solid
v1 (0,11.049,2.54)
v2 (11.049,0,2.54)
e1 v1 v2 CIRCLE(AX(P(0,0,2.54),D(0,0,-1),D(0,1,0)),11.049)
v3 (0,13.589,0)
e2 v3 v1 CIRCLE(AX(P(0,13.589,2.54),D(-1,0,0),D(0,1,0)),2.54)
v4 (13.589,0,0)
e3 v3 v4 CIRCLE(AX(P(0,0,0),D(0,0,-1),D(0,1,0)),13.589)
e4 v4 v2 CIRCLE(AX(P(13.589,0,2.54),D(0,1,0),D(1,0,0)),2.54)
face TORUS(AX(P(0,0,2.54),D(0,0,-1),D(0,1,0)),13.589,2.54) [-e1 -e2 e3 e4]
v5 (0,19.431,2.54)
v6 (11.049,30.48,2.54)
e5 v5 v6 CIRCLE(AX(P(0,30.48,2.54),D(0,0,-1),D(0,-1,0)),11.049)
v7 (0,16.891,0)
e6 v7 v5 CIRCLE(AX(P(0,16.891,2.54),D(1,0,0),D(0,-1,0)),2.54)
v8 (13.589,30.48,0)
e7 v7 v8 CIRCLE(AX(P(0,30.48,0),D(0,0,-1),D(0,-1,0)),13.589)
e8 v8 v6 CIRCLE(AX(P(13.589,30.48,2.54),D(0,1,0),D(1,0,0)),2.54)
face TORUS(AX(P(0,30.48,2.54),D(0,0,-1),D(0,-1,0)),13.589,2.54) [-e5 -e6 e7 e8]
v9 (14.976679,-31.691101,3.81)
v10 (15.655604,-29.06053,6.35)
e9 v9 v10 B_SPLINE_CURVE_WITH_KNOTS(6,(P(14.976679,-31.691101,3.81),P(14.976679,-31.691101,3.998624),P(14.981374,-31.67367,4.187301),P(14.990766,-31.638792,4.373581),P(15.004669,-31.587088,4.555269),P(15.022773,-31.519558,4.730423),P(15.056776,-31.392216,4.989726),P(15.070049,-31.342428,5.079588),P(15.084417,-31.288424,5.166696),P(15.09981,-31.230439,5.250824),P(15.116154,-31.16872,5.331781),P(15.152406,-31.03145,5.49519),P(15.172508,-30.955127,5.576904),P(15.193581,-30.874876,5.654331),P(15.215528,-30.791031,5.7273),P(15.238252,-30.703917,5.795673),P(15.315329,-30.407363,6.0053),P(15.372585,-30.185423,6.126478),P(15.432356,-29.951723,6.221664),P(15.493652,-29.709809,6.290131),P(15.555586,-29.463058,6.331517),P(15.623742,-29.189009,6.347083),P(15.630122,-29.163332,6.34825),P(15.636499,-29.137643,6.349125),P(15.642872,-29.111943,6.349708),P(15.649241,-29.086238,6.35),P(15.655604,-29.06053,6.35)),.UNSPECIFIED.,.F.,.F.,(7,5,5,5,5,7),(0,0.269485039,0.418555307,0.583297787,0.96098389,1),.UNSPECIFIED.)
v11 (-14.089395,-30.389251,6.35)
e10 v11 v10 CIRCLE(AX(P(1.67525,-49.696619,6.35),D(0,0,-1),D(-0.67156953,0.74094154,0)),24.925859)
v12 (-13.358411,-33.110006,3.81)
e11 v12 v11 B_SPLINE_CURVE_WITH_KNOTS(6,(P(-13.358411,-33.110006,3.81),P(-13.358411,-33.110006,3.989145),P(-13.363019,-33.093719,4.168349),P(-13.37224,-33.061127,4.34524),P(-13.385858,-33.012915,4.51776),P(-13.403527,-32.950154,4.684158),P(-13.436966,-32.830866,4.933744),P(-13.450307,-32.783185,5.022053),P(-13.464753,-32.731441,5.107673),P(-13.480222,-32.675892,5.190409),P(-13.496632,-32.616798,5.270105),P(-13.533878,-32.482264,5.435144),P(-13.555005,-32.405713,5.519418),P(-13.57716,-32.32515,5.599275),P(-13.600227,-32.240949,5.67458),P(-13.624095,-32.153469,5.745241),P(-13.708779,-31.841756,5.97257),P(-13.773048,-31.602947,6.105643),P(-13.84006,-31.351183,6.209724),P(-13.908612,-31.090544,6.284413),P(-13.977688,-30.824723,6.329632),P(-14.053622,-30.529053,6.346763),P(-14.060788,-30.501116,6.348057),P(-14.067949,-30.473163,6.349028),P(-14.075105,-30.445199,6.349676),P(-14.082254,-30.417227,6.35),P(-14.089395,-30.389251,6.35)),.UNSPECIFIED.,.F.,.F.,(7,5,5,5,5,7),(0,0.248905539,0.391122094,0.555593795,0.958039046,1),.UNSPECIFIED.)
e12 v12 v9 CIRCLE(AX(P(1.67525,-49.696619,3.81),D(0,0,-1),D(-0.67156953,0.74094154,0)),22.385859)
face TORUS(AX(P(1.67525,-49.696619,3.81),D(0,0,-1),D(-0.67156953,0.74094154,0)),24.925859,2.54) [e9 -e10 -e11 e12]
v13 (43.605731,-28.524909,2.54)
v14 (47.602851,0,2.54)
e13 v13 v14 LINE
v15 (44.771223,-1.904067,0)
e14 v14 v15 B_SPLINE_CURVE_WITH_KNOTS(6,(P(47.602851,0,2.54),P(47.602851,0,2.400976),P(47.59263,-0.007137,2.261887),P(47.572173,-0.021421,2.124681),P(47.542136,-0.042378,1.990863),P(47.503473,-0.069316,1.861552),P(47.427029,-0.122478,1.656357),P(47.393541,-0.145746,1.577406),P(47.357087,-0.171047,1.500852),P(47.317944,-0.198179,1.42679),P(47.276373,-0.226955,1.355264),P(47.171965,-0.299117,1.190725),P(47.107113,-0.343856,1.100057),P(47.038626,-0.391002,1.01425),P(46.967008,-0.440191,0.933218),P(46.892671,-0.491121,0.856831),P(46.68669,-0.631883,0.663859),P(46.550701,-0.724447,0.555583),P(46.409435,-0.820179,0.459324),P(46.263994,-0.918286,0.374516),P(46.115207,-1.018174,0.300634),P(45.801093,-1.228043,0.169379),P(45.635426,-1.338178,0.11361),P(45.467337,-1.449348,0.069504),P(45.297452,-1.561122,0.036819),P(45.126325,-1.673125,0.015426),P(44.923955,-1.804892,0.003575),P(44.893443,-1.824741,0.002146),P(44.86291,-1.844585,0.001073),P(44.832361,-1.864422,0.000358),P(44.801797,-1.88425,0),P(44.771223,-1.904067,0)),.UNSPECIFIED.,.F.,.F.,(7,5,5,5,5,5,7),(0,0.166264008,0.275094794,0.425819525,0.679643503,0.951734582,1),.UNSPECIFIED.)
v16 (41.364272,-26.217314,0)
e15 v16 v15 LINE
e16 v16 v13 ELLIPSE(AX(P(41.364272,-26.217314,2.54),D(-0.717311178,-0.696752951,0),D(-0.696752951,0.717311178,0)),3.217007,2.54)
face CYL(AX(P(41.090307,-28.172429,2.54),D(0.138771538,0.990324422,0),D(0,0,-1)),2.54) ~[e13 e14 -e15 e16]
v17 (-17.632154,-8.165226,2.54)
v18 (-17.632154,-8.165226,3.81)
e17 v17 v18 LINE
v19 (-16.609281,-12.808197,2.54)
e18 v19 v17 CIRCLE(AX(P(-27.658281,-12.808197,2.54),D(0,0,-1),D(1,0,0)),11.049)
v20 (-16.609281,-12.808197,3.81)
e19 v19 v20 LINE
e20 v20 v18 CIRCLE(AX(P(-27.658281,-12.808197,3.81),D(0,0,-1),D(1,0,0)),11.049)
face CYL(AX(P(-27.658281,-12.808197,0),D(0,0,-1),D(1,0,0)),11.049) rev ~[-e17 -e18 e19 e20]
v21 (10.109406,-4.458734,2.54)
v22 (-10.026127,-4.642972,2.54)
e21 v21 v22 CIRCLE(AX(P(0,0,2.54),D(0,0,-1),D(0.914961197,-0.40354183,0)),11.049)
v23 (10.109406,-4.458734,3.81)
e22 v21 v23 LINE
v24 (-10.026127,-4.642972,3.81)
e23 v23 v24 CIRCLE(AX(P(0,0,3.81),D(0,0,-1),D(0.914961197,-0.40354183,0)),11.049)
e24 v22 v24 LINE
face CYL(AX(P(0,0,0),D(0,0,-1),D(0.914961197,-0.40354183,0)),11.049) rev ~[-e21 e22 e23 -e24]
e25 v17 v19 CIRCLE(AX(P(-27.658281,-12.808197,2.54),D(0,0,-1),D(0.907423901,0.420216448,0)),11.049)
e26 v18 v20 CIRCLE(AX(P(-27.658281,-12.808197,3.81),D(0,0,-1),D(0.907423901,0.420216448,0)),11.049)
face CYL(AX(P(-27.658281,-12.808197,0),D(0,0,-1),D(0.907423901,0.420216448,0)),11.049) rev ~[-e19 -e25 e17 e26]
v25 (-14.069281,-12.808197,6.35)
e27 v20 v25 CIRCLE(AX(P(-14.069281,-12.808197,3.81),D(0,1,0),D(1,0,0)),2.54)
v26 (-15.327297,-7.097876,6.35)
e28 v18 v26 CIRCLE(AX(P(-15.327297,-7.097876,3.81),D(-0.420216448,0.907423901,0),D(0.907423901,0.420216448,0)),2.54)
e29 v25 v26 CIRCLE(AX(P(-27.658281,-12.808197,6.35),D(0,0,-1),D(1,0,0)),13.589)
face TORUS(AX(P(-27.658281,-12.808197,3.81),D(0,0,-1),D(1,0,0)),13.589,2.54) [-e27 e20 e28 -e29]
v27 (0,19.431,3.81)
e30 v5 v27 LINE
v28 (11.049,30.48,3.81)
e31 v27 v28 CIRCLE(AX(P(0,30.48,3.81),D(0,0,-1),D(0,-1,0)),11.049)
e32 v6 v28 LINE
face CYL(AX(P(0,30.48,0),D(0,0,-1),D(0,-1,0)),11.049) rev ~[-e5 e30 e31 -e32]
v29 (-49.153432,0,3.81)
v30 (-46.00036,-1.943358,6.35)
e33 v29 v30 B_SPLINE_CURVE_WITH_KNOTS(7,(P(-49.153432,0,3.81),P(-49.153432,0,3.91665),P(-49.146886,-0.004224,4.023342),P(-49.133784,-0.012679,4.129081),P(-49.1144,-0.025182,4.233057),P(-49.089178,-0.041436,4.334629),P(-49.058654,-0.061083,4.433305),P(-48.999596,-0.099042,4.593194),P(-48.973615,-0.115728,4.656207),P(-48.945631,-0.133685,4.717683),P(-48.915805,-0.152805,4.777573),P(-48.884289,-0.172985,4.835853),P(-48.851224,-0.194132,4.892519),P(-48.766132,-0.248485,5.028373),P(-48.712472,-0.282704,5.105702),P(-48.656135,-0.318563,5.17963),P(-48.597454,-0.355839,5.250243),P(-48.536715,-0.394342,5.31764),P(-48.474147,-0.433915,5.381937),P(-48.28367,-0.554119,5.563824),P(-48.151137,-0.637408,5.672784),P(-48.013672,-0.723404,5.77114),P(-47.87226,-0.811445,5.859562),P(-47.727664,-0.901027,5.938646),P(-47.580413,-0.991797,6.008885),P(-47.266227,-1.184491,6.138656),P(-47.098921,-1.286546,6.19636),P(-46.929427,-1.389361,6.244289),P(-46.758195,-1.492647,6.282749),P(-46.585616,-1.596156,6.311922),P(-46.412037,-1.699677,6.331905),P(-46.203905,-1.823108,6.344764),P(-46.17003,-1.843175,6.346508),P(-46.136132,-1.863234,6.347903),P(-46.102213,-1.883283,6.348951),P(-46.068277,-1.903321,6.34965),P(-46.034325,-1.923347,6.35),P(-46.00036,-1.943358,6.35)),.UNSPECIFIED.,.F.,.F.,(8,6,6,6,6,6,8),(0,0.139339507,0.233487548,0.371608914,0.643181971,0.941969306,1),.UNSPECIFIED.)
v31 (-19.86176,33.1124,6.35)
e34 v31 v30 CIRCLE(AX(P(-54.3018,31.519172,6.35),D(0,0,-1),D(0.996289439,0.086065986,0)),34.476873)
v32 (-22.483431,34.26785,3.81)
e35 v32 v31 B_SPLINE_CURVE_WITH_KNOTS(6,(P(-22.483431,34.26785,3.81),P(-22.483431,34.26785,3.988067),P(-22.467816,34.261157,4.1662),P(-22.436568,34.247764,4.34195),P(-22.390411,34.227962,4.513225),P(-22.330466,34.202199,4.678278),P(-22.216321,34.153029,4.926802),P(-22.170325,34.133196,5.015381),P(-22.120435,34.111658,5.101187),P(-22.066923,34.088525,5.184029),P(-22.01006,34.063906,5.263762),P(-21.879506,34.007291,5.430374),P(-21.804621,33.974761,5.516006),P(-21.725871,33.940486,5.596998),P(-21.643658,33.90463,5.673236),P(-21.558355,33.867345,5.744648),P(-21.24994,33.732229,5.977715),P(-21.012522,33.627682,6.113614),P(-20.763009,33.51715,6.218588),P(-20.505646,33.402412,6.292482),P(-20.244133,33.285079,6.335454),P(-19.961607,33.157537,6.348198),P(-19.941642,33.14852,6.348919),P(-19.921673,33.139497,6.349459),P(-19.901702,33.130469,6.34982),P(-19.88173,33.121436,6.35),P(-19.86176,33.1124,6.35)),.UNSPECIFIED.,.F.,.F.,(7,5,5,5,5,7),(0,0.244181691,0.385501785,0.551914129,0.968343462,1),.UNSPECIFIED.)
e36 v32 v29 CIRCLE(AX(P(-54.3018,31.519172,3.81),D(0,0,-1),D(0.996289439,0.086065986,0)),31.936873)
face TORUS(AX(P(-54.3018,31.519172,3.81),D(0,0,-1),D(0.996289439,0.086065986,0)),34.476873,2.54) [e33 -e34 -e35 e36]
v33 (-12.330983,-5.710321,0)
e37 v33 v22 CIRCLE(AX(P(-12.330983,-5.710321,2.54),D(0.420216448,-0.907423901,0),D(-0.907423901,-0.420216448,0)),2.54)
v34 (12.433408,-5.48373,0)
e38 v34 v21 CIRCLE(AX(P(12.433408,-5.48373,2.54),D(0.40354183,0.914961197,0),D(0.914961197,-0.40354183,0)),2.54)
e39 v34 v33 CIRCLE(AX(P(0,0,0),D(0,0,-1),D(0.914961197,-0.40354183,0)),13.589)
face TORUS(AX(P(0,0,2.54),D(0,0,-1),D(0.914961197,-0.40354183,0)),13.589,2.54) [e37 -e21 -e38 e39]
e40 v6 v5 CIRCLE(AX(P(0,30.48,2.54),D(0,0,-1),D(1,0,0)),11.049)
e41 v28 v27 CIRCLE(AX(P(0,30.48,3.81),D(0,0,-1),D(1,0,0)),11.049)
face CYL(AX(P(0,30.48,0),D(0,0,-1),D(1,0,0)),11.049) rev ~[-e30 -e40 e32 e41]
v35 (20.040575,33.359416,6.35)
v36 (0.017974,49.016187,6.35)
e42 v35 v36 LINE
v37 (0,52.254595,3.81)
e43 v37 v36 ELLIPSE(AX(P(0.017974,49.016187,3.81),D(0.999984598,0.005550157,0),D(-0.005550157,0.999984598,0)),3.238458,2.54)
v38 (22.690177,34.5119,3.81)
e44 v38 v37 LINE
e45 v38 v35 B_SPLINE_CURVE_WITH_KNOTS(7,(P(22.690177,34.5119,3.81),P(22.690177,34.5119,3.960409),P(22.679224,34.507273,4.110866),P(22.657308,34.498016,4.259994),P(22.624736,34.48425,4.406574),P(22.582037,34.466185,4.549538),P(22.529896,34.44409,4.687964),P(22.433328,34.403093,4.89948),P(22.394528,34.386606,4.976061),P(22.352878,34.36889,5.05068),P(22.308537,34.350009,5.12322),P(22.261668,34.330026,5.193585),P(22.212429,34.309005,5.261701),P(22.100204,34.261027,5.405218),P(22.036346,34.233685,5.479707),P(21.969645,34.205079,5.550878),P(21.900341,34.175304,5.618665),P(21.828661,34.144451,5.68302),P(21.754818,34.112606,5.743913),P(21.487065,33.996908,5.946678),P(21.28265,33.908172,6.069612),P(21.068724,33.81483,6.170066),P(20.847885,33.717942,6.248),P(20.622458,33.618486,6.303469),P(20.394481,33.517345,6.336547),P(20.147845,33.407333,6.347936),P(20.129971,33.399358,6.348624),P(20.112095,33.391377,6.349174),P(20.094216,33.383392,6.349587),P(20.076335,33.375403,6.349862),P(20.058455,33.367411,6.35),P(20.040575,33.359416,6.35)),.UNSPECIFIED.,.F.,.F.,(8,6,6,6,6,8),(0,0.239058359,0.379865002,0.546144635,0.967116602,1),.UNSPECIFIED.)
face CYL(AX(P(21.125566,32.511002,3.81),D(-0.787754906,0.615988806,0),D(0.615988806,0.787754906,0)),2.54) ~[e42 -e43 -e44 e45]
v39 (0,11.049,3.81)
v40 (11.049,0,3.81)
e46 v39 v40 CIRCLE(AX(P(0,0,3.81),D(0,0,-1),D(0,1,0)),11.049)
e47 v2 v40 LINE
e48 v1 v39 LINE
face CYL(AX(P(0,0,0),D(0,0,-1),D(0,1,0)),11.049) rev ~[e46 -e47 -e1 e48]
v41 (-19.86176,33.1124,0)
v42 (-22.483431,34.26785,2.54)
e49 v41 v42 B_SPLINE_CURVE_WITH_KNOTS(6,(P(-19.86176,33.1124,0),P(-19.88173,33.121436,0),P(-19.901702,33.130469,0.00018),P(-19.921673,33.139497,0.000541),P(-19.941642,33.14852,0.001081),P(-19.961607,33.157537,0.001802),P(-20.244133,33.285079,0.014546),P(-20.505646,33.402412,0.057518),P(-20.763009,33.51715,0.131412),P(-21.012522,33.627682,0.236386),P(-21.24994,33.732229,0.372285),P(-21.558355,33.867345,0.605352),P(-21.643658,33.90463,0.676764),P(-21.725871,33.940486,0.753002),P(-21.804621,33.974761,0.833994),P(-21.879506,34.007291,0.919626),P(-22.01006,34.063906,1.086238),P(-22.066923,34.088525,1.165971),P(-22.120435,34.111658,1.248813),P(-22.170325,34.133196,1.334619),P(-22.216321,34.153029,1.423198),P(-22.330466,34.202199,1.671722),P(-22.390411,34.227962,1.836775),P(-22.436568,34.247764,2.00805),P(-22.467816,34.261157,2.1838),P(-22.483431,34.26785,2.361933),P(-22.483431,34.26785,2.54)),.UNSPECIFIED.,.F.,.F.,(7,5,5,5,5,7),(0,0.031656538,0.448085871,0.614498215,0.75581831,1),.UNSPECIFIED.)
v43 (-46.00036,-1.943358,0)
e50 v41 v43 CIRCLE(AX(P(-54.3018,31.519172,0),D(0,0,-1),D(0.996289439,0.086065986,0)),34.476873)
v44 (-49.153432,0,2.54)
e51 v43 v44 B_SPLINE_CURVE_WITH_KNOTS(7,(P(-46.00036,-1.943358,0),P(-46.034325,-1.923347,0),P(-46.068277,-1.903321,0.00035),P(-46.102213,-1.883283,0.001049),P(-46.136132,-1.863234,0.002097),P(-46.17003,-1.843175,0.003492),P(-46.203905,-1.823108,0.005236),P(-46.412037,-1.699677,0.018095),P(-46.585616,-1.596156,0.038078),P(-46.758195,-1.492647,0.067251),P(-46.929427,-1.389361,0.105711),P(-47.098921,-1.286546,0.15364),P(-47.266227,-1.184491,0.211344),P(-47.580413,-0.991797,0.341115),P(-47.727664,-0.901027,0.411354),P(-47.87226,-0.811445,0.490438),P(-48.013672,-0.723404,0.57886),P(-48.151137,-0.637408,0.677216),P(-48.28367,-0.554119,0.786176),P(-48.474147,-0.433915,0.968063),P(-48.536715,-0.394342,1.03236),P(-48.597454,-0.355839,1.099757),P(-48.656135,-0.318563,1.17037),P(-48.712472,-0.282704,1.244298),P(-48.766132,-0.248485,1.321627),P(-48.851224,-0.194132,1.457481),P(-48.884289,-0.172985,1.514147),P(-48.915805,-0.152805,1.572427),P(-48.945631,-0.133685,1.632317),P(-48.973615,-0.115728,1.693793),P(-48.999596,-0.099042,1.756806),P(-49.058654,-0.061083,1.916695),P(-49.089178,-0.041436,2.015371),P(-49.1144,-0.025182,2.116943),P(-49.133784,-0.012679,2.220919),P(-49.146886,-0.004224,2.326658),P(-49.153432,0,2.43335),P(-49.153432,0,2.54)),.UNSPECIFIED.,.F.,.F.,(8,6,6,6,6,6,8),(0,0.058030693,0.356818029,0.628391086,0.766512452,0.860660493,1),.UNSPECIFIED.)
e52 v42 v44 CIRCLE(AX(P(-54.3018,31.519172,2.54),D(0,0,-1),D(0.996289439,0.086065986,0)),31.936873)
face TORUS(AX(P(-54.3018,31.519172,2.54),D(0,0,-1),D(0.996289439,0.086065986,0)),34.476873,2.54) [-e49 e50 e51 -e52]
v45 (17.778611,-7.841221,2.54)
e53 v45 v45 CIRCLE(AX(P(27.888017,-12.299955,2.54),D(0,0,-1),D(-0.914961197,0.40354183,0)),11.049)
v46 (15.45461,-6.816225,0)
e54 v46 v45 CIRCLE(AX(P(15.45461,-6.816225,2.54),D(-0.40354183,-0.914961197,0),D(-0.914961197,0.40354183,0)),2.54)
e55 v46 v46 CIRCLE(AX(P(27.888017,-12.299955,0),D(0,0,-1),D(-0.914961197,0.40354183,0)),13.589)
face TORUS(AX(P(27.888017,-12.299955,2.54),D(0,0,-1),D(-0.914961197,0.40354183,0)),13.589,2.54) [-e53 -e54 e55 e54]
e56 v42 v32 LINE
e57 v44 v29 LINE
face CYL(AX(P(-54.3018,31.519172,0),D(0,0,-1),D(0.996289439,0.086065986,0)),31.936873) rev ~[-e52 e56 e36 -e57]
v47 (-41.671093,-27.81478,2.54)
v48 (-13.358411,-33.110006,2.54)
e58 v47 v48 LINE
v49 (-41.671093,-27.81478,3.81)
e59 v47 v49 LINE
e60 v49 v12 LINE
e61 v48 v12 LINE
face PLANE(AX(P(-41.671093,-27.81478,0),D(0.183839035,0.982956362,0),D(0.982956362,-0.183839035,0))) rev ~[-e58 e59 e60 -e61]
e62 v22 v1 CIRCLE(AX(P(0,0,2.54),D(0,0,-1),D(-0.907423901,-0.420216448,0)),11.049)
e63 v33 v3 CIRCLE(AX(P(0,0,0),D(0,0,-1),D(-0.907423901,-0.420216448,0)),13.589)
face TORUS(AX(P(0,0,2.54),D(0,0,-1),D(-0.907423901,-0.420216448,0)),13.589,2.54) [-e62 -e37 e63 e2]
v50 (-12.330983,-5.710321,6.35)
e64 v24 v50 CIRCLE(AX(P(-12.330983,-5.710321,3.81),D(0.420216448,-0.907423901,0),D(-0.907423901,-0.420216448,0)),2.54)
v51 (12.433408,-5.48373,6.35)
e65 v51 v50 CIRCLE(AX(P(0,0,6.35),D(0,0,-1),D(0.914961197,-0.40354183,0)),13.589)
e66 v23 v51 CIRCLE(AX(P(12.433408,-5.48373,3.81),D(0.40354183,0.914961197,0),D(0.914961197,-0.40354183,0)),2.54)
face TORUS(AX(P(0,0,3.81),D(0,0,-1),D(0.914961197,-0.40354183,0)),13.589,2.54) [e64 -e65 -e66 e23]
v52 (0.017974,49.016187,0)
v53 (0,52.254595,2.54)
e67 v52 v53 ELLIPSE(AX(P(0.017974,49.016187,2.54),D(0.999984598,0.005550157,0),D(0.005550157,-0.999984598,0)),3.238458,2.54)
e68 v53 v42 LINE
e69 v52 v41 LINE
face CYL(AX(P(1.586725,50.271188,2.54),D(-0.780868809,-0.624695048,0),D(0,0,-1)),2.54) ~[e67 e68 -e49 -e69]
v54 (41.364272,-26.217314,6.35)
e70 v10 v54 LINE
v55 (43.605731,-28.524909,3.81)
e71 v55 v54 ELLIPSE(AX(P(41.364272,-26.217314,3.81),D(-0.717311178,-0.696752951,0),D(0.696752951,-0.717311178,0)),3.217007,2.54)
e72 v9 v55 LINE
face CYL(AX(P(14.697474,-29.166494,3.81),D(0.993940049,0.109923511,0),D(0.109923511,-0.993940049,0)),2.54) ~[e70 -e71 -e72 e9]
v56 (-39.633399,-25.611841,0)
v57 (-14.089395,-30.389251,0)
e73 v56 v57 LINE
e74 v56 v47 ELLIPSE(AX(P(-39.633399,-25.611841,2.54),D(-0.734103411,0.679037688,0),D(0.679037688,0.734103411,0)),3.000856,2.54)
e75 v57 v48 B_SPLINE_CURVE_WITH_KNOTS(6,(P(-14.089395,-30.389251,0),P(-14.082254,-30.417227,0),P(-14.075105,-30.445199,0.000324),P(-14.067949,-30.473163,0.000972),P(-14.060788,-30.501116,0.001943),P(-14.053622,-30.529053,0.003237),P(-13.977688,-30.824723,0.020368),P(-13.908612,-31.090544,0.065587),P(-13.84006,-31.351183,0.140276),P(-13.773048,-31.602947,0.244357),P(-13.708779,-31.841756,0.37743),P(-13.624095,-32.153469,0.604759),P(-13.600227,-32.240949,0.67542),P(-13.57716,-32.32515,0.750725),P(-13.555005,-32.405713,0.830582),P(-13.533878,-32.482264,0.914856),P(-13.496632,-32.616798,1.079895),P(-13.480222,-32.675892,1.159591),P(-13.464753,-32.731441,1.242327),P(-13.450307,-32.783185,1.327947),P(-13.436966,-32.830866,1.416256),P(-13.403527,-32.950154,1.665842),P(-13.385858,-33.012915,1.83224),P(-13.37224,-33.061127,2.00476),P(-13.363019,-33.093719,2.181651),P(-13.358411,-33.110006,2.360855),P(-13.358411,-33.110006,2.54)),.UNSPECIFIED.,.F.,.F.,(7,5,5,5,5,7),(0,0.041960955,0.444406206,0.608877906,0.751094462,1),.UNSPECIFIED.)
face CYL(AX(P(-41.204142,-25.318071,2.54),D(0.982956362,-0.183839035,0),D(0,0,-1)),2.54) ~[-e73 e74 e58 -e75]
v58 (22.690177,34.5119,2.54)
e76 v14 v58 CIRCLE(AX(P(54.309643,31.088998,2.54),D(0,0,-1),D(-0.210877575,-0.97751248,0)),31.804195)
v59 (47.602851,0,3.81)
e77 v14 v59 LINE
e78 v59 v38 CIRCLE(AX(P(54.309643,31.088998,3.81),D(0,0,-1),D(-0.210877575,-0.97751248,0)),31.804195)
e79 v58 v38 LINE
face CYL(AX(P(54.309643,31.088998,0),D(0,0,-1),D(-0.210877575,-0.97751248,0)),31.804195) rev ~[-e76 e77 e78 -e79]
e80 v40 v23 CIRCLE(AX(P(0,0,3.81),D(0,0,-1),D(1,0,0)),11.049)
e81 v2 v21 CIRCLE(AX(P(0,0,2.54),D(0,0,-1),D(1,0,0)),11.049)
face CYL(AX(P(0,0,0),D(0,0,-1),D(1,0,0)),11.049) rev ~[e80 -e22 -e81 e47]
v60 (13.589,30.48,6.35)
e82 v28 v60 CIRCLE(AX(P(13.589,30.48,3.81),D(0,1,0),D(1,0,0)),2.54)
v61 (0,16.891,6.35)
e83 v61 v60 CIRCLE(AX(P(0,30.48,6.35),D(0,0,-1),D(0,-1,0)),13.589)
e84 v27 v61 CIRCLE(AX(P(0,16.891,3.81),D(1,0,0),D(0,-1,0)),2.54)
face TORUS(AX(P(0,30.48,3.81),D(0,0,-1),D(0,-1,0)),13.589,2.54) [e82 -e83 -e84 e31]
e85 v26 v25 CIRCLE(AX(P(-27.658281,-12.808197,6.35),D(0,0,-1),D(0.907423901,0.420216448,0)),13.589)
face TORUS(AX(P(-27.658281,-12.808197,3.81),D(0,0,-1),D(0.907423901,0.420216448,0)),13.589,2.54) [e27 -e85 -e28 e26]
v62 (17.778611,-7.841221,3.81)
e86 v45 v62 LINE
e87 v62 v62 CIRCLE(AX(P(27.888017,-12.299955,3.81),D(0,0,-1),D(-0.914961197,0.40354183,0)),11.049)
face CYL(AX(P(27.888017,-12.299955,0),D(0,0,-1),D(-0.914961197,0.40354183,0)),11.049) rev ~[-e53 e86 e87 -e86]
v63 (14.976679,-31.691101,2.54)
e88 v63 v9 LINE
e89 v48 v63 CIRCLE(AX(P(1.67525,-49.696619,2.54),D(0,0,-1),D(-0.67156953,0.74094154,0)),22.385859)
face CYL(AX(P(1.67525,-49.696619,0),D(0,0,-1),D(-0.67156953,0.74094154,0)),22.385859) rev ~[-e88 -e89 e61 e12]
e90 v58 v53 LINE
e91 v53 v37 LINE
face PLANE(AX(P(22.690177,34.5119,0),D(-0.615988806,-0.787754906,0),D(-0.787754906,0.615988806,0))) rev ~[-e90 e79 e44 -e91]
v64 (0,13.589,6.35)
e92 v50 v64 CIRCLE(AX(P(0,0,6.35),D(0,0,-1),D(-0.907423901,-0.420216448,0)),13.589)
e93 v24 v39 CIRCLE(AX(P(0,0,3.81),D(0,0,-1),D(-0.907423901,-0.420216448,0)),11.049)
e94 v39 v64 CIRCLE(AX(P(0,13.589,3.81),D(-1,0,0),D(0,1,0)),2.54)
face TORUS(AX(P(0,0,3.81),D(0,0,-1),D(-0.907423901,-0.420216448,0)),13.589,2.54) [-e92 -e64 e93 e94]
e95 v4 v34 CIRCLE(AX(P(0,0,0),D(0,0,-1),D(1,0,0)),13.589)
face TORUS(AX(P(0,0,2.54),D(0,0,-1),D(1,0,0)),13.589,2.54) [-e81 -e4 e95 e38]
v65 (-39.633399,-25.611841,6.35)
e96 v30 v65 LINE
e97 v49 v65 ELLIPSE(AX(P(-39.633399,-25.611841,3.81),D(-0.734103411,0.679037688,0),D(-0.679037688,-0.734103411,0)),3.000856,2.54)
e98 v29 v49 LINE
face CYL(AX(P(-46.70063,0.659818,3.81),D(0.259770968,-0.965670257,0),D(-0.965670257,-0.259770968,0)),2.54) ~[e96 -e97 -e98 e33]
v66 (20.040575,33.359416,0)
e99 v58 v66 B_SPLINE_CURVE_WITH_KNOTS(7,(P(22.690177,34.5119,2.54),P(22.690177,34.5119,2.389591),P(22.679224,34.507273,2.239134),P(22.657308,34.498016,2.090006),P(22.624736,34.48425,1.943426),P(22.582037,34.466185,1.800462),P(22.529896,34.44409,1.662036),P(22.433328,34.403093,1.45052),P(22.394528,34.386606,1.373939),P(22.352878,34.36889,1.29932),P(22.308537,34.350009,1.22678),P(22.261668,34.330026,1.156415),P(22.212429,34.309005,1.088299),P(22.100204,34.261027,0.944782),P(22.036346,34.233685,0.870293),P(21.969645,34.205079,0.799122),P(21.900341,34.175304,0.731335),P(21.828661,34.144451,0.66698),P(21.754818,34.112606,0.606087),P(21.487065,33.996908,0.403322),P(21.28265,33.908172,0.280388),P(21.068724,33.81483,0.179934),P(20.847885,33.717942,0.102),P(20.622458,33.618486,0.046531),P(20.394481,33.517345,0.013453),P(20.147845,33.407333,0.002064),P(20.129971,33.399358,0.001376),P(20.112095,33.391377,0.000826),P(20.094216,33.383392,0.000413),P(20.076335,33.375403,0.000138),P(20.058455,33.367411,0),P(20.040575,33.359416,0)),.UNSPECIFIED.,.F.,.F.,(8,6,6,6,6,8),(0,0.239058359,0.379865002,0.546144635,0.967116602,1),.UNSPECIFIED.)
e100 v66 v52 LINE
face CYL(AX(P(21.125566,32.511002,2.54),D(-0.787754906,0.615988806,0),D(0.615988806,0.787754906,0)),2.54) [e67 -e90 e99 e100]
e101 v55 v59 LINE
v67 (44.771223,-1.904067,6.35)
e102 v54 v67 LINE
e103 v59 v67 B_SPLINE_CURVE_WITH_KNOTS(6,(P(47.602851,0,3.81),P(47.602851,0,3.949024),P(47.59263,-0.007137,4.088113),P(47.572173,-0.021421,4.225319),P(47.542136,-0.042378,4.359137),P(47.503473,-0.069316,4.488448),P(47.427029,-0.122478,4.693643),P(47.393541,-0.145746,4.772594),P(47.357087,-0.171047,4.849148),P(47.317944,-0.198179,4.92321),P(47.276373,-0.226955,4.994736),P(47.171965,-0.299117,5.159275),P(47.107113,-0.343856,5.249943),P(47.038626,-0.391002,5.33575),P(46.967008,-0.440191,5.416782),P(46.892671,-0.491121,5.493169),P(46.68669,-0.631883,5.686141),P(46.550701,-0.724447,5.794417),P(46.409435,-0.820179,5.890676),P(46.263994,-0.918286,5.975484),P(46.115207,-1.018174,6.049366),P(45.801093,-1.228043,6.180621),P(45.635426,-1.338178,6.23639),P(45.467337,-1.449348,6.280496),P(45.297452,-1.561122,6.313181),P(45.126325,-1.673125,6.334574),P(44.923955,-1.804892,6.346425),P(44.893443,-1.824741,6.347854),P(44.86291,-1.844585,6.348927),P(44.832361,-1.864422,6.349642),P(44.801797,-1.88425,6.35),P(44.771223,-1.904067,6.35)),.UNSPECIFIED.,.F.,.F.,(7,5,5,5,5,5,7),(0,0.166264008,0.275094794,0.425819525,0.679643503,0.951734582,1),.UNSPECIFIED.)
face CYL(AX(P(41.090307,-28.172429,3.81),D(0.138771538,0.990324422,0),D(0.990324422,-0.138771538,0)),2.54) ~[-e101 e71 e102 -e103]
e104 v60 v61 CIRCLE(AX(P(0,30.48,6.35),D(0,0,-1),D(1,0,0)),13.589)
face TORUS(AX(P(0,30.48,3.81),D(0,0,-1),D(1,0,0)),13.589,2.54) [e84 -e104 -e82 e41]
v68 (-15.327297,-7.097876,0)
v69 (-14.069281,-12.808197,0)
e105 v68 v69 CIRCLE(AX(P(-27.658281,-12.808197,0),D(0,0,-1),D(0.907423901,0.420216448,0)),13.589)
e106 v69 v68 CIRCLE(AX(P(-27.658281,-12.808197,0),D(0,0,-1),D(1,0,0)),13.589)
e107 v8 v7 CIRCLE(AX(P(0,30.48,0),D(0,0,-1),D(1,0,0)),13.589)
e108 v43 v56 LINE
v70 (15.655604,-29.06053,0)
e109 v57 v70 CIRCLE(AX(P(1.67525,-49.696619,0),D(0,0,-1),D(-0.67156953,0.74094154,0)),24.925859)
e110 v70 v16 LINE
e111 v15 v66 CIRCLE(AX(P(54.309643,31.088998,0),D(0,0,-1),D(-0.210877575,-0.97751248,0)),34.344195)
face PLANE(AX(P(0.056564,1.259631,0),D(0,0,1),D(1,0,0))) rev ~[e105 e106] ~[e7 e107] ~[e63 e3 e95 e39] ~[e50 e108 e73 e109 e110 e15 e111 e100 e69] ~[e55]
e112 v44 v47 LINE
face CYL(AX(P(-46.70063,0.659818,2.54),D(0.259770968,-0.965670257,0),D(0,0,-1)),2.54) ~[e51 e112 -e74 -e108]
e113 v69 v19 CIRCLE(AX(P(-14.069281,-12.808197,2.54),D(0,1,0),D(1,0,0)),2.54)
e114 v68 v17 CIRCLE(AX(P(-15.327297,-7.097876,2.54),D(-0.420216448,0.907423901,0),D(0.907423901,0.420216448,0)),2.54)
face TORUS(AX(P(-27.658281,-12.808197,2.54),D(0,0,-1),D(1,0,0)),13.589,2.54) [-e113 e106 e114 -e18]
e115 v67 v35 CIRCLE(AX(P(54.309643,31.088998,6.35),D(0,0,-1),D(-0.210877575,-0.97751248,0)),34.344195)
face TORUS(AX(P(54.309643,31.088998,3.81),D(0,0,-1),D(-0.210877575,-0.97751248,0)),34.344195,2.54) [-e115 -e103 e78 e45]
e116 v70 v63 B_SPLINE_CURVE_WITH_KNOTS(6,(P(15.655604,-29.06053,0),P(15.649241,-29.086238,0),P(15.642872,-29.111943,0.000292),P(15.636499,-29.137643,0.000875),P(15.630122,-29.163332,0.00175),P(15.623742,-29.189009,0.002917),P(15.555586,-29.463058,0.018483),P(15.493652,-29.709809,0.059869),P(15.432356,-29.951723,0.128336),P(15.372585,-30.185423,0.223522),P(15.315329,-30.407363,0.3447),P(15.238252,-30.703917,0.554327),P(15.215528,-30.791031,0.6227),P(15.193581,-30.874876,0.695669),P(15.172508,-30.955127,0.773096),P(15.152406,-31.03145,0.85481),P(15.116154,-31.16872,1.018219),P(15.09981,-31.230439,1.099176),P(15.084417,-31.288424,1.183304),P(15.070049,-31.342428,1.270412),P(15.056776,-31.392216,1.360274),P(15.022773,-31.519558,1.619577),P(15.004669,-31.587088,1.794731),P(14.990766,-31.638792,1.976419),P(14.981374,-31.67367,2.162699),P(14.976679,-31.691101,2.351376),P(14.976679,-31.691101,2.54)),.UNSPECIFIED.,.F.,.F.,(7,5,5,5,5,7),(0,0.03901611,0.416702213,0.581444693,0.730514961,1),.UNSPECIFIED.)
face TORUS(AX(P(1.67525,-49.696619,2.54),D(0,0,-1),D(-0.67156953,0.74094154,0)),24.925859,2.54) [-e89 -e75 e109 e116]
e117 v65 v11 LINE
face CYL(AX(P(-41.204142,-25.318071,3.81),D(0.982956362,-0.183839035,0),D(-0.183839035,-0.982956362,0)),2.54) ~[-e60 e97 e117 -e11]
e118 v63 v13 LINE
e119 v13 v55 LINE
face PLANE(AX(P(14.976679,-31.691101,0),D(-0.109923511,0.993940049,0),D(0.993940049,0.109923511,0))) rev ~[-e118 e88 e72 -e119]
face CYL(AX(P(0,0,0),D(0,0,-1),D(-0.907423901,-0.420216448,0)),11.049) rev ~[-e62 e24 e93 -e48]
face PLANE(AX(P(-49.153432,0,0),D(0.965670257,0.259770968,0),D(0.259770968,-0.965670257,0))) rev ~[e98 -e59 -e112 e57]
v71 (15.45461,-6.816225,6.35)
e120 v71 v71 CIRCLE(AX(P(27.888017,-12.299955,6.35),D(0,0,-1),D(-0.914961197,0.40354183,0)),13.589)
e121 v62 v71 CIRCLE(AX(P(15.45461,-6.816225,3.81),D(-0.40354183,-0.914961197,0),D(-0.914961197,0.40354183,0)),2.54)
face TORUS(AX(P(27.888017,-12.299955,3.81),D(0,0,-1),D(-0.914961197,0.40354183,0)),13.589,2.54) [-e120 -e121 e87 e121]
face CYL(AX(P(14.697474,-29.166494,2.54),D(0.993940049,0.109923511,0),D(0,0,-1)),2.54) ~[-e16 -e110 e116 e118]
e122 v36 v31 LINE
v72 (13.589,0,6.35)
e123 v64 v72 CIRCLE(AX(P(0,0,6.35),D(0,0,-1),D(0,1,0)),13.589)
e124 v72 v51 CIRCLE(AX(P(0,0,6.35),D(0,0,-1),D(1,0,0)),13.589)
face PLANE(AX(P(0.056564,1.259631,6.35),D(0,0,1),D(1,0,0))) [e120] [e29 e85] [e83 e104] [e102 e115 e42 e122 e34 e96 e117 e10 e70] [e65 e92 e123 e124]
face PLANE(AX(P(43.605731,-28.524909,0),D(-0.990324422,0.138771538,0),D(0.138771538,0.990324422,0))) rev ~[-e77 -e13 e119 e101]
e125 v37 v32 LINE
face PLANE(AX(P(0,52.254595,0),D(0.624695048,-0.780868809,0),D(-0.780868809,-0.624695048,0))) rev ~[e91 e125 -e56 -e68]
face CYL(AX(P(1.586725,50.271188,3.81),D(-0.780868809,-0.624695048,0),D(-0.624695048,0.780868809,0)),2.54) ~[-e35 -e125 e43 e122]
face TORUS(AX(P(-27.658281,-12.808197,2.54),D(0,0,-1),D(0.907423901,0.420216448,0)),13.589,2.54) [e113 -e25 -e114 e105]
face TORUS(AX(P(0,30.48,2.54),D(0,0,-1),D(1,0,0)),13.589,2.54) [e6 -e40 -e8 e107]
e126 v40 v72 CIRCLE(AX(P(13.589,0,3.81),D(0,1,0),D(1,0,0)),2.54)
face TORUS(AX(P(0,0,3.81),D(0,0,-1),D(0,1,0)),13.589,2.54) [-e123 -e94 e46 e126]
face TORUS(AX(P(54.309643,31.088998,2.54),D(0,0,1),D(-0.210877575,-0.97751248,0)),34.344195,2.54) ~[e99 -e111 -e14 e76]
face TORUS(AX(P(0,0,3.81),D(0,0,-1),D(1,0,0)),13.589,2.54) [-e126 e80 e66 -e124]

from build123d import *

# Parameters (mm, degrees)
F1_DEPTH = 6.35
F2_R     = 2.54
F3_R     = 2.54


with BuildPart() as f1:
    # F0 (on Top) → F1 (new body)
    with BuildSketch(Plane.XY):
        with BuildLine():
            Line((22.6901771963, 34.5118996963), (0, 52.2545948625))
            Line((0, 52.2545948625), (-22.4834308028, 34.2678502202))
            ThreePointArc((-22.4834308028, 34.2678502202), (-29.0985007425, 11.9039336581), (-49.15343225, 0))
            Line((-49.15343225, 0), (-41.6710932069, -27.8147798015))
            Line((-41.6710932069, -27.8147798015), (-13.358411342, -33.1100058194))
            ThreePointArc((-13.358411342, -33.1100058194), (0.5556610299, -27.3387742359), (14.976679458, -31.6911013672))
            Line((14.976679458, -31.6911013672), (43.6057310623, -28.5249085119))
            Line((43.6057310623, -28.5249085119), (47.6028509438, 0))
            ThreePointArc((47.6028509438, 0), (28.5221785765, 12.474123568), (22.6901771963, 34.5118996963))
        make_face()
        with BuildLine():
            ThreePointArc((-12.4182805133, -12.808197338), (-42.5413866661, -16.0870311618), (-13.8291402566, -6.404098669))
            ThreePointArc((-13.8291402566, -6.404098669), (-12.7751743605, -9.5293635141), (-12.4182805133, -12.808197338))
        make_face(mode=Mode.SUBTRACT)
        with BuildLine():
            ThreePointArc((43.1280172787, -12.2999549699), (24.7454937437, -27.2124378561), (13.9440086394, -6.1499774849))
            ThreePointArc((13.9440086394, -6.1499774849), (31.0305408137, 2.6125279164), (43.1280172787, -12.2999549699))
        make_face(mode=Mode.SUBTRACT)
        with BuildLine():
            ThreePointArc((-12.6767119019, -5.8704237799), (-11.7722283406, 7.52167135), (0, 13.97))
            ThreePointArc((0, 13.97), (9.8782817332, 9.8782817332), (13.97, 0))
            ThreePointArc((13.97, 0), (13.669775979, -2.8806465737), (12.7820079194, -5.6374793612))
            ThreePointArc((12.7820079194, -5.6374793612), (0.127818576, -13.9694152495), (-12.6767119019, -5.8704237799))
        make_face(mode=Mode.SUBTRACT)
        with BuildLine():
            ThreePointArc((15.24, 30.48), (10.7763073453, 19.7036926547), (0, 15.24))
            ThreePointArc((0, 15.24), (-10.7763073453, 41.2563073453), (15.24, 30.48))
        make_face(mode=Mode.SUBTRACT)
        with BuildLine():
            ThreePointArc((15.24, 30.48), (-10.7763073453, 41.2563073453), (0, 15.24))
            ThreePointArc((0, 15.24), (10.7763073453, 19.7036926547), (15.24, 30.48))
        make_face()
        with BuildLine():
            ThreePointArc((11.049, 30.48), (7.8128228253, 22.6671771747), (0, 19.431))
            ThreePointArc((0, 19.431), (-7.8128228253, 38.2928228253), (11.049, 30.48))
        make_face(mode=Mode.SUBTRACT)
        with BuildLine():
            ThreePointArc((0, 11.049), (7.8128228253, 7.8128228253), (11.049, 0))
            ThreePointArc((11.049, 0), (10.8115500925, -2.2783295629), (10.1094062635, -4.4587336766))
            Line((10.1094062635, -4.4587336766), (12.7820079194, -5.6374793612))
            ThreePointArc((12.7820079194, -5.6374793612), (13.669775979, -2.8806465737), (13.97, 0))
            ThreePointArc((13.97, 0), (9.8782817332, 9.8782817332), (0, 13.97))
            Line((0, 13.97), (0, 11.049))
        make_face()
        with BuildLine():
            ThreePointArc((-10.0261266861, -4.642971535), (-9.3107624148, 5.9489582495), (0, 11.049))
            Line((0, 11.049), (0, 13.97))
            ThreePointArc((0, 13.97), (-11.7722283406, 7.52167135), (-12.6767119019, -5.8704237799))
            Line((-12.6767119019, -5.8704237799), (-10.0261266861, -4.642971535))
        make_face()
        with BuildLine():
            Line((12.7820079194, -5.6374793612), (10.1094062635, -4.4587336766))
            ThreePointArc((10.1094062635, -4.4587336766), (0.1010928738, -11.0485375155), (-10.0261266861, -4.642971535))
            Line((-10.0261266861, -4.642971535), (-12.6767119019, -5.8704237799))
            ThreePointArc((-12.6767119019, -5.8704237799), (0.127818576, -13.9694152495), (12.7820079194, -5.6374793612))
        make_face()
        with BuildLine():
            ThreePointArc((-12.4182805133, -12.808197338), (-12.7751743605, -9.5293635141), (-13.8291402566, -6.404098669))
            ThreePointArc((-13.8291402566, -6.404098669), (-42.5413866661, -16.0870311618), (-12.4182805133, -12.808197338))
        make_face()
        with BuildLine():
            ThreePointArc((-16.6092805133, -12.808197338), (-38.4485324741, -15.1853518603), (-17.6321538272, -8.165225803))
            ThreePointArc((-17.6321538272, -8.165225803), (-16.8680285525, -10.4310428157), (-16.6092805133, -12.808197338))
        make_face(mode=Mode.SUBTRACT)
        with BuildLine():
            ThreePointArc((43.1280172787, -12.2999549699), (31.0305408137, 2.6125279164), (13.9440086394, -6.1499774849))
            ThreePointArc((13.9440086394, -6.1499774849), (24.7454937437, -27.2124378561), (43.1280172787, -12.2999549699))
        make_face()
        with BuildLine():
            ThreePointArc((38.9370172787, -12.2999549699), (25.6096877159, -23.1115050624), (17.7786110152, -7.8412212933))
            ThreePointArc((17.7786110152, -7.8412212933), (30.1663468416, -1.4884048774), (38.9370172787, -12.2999549699))
        make_face(mode=Mode.SUBTRACT)
    extrude(amount=F1_DEPTH)

    # F2
    f2_edges = [f1.edges().sort_by_distance(p)[0] for p in [
        (0, 41.529, 6.35),
        (37.997424, -16.758689, 6.35),
        (-38.707281, -12.808197, 6.35),
        (0.555661, -27.338774, 6.35),
        (29.291205, -30.108005, 6.35),
        (45.604291, -14.262454, 6.35),
        (28.522179, 12.474124, 6.35),
        (11.345089, 43.383247, 6.35),
        (-11.241715, 43.261223, 6.35),
        (-29.098501, 11.903934, 6.35),
        (-45.412263, -13.90739, 6.35),
        (-27.514752, -30.462393, 6.35),
        (-10.109406, 4.458734, 6.35),
    ]]
    fillet(f2_edges, radius=F2_R)

    # F3
    f3_edges = [f1.edges().sort_by_distance(p)[0] for p in [
        (-10.109406, 4.458734, 0),
        (-38.707281, -12.808197, 0),
        (37.997424, -16.758689, 0),
        (0, 41.529, 0),
        (28.522179, 12.474124, 0),
        (45.604291, -14.262454, 0),
        (29.291205, -30.108005, 0),
        (0.555661, -27.338774, 0),
        (-27.514752, -30.462393, 0),
        (-45.412263, -13.90739, 0),
        (-29.098501, 11.903934, 0),
        (-11.241715, 43.261223, 0),
        (11.345089, 43.383247, 0),
    ]]
    fillet(f3_edges, radius=F3_R)


solid = f1.part
